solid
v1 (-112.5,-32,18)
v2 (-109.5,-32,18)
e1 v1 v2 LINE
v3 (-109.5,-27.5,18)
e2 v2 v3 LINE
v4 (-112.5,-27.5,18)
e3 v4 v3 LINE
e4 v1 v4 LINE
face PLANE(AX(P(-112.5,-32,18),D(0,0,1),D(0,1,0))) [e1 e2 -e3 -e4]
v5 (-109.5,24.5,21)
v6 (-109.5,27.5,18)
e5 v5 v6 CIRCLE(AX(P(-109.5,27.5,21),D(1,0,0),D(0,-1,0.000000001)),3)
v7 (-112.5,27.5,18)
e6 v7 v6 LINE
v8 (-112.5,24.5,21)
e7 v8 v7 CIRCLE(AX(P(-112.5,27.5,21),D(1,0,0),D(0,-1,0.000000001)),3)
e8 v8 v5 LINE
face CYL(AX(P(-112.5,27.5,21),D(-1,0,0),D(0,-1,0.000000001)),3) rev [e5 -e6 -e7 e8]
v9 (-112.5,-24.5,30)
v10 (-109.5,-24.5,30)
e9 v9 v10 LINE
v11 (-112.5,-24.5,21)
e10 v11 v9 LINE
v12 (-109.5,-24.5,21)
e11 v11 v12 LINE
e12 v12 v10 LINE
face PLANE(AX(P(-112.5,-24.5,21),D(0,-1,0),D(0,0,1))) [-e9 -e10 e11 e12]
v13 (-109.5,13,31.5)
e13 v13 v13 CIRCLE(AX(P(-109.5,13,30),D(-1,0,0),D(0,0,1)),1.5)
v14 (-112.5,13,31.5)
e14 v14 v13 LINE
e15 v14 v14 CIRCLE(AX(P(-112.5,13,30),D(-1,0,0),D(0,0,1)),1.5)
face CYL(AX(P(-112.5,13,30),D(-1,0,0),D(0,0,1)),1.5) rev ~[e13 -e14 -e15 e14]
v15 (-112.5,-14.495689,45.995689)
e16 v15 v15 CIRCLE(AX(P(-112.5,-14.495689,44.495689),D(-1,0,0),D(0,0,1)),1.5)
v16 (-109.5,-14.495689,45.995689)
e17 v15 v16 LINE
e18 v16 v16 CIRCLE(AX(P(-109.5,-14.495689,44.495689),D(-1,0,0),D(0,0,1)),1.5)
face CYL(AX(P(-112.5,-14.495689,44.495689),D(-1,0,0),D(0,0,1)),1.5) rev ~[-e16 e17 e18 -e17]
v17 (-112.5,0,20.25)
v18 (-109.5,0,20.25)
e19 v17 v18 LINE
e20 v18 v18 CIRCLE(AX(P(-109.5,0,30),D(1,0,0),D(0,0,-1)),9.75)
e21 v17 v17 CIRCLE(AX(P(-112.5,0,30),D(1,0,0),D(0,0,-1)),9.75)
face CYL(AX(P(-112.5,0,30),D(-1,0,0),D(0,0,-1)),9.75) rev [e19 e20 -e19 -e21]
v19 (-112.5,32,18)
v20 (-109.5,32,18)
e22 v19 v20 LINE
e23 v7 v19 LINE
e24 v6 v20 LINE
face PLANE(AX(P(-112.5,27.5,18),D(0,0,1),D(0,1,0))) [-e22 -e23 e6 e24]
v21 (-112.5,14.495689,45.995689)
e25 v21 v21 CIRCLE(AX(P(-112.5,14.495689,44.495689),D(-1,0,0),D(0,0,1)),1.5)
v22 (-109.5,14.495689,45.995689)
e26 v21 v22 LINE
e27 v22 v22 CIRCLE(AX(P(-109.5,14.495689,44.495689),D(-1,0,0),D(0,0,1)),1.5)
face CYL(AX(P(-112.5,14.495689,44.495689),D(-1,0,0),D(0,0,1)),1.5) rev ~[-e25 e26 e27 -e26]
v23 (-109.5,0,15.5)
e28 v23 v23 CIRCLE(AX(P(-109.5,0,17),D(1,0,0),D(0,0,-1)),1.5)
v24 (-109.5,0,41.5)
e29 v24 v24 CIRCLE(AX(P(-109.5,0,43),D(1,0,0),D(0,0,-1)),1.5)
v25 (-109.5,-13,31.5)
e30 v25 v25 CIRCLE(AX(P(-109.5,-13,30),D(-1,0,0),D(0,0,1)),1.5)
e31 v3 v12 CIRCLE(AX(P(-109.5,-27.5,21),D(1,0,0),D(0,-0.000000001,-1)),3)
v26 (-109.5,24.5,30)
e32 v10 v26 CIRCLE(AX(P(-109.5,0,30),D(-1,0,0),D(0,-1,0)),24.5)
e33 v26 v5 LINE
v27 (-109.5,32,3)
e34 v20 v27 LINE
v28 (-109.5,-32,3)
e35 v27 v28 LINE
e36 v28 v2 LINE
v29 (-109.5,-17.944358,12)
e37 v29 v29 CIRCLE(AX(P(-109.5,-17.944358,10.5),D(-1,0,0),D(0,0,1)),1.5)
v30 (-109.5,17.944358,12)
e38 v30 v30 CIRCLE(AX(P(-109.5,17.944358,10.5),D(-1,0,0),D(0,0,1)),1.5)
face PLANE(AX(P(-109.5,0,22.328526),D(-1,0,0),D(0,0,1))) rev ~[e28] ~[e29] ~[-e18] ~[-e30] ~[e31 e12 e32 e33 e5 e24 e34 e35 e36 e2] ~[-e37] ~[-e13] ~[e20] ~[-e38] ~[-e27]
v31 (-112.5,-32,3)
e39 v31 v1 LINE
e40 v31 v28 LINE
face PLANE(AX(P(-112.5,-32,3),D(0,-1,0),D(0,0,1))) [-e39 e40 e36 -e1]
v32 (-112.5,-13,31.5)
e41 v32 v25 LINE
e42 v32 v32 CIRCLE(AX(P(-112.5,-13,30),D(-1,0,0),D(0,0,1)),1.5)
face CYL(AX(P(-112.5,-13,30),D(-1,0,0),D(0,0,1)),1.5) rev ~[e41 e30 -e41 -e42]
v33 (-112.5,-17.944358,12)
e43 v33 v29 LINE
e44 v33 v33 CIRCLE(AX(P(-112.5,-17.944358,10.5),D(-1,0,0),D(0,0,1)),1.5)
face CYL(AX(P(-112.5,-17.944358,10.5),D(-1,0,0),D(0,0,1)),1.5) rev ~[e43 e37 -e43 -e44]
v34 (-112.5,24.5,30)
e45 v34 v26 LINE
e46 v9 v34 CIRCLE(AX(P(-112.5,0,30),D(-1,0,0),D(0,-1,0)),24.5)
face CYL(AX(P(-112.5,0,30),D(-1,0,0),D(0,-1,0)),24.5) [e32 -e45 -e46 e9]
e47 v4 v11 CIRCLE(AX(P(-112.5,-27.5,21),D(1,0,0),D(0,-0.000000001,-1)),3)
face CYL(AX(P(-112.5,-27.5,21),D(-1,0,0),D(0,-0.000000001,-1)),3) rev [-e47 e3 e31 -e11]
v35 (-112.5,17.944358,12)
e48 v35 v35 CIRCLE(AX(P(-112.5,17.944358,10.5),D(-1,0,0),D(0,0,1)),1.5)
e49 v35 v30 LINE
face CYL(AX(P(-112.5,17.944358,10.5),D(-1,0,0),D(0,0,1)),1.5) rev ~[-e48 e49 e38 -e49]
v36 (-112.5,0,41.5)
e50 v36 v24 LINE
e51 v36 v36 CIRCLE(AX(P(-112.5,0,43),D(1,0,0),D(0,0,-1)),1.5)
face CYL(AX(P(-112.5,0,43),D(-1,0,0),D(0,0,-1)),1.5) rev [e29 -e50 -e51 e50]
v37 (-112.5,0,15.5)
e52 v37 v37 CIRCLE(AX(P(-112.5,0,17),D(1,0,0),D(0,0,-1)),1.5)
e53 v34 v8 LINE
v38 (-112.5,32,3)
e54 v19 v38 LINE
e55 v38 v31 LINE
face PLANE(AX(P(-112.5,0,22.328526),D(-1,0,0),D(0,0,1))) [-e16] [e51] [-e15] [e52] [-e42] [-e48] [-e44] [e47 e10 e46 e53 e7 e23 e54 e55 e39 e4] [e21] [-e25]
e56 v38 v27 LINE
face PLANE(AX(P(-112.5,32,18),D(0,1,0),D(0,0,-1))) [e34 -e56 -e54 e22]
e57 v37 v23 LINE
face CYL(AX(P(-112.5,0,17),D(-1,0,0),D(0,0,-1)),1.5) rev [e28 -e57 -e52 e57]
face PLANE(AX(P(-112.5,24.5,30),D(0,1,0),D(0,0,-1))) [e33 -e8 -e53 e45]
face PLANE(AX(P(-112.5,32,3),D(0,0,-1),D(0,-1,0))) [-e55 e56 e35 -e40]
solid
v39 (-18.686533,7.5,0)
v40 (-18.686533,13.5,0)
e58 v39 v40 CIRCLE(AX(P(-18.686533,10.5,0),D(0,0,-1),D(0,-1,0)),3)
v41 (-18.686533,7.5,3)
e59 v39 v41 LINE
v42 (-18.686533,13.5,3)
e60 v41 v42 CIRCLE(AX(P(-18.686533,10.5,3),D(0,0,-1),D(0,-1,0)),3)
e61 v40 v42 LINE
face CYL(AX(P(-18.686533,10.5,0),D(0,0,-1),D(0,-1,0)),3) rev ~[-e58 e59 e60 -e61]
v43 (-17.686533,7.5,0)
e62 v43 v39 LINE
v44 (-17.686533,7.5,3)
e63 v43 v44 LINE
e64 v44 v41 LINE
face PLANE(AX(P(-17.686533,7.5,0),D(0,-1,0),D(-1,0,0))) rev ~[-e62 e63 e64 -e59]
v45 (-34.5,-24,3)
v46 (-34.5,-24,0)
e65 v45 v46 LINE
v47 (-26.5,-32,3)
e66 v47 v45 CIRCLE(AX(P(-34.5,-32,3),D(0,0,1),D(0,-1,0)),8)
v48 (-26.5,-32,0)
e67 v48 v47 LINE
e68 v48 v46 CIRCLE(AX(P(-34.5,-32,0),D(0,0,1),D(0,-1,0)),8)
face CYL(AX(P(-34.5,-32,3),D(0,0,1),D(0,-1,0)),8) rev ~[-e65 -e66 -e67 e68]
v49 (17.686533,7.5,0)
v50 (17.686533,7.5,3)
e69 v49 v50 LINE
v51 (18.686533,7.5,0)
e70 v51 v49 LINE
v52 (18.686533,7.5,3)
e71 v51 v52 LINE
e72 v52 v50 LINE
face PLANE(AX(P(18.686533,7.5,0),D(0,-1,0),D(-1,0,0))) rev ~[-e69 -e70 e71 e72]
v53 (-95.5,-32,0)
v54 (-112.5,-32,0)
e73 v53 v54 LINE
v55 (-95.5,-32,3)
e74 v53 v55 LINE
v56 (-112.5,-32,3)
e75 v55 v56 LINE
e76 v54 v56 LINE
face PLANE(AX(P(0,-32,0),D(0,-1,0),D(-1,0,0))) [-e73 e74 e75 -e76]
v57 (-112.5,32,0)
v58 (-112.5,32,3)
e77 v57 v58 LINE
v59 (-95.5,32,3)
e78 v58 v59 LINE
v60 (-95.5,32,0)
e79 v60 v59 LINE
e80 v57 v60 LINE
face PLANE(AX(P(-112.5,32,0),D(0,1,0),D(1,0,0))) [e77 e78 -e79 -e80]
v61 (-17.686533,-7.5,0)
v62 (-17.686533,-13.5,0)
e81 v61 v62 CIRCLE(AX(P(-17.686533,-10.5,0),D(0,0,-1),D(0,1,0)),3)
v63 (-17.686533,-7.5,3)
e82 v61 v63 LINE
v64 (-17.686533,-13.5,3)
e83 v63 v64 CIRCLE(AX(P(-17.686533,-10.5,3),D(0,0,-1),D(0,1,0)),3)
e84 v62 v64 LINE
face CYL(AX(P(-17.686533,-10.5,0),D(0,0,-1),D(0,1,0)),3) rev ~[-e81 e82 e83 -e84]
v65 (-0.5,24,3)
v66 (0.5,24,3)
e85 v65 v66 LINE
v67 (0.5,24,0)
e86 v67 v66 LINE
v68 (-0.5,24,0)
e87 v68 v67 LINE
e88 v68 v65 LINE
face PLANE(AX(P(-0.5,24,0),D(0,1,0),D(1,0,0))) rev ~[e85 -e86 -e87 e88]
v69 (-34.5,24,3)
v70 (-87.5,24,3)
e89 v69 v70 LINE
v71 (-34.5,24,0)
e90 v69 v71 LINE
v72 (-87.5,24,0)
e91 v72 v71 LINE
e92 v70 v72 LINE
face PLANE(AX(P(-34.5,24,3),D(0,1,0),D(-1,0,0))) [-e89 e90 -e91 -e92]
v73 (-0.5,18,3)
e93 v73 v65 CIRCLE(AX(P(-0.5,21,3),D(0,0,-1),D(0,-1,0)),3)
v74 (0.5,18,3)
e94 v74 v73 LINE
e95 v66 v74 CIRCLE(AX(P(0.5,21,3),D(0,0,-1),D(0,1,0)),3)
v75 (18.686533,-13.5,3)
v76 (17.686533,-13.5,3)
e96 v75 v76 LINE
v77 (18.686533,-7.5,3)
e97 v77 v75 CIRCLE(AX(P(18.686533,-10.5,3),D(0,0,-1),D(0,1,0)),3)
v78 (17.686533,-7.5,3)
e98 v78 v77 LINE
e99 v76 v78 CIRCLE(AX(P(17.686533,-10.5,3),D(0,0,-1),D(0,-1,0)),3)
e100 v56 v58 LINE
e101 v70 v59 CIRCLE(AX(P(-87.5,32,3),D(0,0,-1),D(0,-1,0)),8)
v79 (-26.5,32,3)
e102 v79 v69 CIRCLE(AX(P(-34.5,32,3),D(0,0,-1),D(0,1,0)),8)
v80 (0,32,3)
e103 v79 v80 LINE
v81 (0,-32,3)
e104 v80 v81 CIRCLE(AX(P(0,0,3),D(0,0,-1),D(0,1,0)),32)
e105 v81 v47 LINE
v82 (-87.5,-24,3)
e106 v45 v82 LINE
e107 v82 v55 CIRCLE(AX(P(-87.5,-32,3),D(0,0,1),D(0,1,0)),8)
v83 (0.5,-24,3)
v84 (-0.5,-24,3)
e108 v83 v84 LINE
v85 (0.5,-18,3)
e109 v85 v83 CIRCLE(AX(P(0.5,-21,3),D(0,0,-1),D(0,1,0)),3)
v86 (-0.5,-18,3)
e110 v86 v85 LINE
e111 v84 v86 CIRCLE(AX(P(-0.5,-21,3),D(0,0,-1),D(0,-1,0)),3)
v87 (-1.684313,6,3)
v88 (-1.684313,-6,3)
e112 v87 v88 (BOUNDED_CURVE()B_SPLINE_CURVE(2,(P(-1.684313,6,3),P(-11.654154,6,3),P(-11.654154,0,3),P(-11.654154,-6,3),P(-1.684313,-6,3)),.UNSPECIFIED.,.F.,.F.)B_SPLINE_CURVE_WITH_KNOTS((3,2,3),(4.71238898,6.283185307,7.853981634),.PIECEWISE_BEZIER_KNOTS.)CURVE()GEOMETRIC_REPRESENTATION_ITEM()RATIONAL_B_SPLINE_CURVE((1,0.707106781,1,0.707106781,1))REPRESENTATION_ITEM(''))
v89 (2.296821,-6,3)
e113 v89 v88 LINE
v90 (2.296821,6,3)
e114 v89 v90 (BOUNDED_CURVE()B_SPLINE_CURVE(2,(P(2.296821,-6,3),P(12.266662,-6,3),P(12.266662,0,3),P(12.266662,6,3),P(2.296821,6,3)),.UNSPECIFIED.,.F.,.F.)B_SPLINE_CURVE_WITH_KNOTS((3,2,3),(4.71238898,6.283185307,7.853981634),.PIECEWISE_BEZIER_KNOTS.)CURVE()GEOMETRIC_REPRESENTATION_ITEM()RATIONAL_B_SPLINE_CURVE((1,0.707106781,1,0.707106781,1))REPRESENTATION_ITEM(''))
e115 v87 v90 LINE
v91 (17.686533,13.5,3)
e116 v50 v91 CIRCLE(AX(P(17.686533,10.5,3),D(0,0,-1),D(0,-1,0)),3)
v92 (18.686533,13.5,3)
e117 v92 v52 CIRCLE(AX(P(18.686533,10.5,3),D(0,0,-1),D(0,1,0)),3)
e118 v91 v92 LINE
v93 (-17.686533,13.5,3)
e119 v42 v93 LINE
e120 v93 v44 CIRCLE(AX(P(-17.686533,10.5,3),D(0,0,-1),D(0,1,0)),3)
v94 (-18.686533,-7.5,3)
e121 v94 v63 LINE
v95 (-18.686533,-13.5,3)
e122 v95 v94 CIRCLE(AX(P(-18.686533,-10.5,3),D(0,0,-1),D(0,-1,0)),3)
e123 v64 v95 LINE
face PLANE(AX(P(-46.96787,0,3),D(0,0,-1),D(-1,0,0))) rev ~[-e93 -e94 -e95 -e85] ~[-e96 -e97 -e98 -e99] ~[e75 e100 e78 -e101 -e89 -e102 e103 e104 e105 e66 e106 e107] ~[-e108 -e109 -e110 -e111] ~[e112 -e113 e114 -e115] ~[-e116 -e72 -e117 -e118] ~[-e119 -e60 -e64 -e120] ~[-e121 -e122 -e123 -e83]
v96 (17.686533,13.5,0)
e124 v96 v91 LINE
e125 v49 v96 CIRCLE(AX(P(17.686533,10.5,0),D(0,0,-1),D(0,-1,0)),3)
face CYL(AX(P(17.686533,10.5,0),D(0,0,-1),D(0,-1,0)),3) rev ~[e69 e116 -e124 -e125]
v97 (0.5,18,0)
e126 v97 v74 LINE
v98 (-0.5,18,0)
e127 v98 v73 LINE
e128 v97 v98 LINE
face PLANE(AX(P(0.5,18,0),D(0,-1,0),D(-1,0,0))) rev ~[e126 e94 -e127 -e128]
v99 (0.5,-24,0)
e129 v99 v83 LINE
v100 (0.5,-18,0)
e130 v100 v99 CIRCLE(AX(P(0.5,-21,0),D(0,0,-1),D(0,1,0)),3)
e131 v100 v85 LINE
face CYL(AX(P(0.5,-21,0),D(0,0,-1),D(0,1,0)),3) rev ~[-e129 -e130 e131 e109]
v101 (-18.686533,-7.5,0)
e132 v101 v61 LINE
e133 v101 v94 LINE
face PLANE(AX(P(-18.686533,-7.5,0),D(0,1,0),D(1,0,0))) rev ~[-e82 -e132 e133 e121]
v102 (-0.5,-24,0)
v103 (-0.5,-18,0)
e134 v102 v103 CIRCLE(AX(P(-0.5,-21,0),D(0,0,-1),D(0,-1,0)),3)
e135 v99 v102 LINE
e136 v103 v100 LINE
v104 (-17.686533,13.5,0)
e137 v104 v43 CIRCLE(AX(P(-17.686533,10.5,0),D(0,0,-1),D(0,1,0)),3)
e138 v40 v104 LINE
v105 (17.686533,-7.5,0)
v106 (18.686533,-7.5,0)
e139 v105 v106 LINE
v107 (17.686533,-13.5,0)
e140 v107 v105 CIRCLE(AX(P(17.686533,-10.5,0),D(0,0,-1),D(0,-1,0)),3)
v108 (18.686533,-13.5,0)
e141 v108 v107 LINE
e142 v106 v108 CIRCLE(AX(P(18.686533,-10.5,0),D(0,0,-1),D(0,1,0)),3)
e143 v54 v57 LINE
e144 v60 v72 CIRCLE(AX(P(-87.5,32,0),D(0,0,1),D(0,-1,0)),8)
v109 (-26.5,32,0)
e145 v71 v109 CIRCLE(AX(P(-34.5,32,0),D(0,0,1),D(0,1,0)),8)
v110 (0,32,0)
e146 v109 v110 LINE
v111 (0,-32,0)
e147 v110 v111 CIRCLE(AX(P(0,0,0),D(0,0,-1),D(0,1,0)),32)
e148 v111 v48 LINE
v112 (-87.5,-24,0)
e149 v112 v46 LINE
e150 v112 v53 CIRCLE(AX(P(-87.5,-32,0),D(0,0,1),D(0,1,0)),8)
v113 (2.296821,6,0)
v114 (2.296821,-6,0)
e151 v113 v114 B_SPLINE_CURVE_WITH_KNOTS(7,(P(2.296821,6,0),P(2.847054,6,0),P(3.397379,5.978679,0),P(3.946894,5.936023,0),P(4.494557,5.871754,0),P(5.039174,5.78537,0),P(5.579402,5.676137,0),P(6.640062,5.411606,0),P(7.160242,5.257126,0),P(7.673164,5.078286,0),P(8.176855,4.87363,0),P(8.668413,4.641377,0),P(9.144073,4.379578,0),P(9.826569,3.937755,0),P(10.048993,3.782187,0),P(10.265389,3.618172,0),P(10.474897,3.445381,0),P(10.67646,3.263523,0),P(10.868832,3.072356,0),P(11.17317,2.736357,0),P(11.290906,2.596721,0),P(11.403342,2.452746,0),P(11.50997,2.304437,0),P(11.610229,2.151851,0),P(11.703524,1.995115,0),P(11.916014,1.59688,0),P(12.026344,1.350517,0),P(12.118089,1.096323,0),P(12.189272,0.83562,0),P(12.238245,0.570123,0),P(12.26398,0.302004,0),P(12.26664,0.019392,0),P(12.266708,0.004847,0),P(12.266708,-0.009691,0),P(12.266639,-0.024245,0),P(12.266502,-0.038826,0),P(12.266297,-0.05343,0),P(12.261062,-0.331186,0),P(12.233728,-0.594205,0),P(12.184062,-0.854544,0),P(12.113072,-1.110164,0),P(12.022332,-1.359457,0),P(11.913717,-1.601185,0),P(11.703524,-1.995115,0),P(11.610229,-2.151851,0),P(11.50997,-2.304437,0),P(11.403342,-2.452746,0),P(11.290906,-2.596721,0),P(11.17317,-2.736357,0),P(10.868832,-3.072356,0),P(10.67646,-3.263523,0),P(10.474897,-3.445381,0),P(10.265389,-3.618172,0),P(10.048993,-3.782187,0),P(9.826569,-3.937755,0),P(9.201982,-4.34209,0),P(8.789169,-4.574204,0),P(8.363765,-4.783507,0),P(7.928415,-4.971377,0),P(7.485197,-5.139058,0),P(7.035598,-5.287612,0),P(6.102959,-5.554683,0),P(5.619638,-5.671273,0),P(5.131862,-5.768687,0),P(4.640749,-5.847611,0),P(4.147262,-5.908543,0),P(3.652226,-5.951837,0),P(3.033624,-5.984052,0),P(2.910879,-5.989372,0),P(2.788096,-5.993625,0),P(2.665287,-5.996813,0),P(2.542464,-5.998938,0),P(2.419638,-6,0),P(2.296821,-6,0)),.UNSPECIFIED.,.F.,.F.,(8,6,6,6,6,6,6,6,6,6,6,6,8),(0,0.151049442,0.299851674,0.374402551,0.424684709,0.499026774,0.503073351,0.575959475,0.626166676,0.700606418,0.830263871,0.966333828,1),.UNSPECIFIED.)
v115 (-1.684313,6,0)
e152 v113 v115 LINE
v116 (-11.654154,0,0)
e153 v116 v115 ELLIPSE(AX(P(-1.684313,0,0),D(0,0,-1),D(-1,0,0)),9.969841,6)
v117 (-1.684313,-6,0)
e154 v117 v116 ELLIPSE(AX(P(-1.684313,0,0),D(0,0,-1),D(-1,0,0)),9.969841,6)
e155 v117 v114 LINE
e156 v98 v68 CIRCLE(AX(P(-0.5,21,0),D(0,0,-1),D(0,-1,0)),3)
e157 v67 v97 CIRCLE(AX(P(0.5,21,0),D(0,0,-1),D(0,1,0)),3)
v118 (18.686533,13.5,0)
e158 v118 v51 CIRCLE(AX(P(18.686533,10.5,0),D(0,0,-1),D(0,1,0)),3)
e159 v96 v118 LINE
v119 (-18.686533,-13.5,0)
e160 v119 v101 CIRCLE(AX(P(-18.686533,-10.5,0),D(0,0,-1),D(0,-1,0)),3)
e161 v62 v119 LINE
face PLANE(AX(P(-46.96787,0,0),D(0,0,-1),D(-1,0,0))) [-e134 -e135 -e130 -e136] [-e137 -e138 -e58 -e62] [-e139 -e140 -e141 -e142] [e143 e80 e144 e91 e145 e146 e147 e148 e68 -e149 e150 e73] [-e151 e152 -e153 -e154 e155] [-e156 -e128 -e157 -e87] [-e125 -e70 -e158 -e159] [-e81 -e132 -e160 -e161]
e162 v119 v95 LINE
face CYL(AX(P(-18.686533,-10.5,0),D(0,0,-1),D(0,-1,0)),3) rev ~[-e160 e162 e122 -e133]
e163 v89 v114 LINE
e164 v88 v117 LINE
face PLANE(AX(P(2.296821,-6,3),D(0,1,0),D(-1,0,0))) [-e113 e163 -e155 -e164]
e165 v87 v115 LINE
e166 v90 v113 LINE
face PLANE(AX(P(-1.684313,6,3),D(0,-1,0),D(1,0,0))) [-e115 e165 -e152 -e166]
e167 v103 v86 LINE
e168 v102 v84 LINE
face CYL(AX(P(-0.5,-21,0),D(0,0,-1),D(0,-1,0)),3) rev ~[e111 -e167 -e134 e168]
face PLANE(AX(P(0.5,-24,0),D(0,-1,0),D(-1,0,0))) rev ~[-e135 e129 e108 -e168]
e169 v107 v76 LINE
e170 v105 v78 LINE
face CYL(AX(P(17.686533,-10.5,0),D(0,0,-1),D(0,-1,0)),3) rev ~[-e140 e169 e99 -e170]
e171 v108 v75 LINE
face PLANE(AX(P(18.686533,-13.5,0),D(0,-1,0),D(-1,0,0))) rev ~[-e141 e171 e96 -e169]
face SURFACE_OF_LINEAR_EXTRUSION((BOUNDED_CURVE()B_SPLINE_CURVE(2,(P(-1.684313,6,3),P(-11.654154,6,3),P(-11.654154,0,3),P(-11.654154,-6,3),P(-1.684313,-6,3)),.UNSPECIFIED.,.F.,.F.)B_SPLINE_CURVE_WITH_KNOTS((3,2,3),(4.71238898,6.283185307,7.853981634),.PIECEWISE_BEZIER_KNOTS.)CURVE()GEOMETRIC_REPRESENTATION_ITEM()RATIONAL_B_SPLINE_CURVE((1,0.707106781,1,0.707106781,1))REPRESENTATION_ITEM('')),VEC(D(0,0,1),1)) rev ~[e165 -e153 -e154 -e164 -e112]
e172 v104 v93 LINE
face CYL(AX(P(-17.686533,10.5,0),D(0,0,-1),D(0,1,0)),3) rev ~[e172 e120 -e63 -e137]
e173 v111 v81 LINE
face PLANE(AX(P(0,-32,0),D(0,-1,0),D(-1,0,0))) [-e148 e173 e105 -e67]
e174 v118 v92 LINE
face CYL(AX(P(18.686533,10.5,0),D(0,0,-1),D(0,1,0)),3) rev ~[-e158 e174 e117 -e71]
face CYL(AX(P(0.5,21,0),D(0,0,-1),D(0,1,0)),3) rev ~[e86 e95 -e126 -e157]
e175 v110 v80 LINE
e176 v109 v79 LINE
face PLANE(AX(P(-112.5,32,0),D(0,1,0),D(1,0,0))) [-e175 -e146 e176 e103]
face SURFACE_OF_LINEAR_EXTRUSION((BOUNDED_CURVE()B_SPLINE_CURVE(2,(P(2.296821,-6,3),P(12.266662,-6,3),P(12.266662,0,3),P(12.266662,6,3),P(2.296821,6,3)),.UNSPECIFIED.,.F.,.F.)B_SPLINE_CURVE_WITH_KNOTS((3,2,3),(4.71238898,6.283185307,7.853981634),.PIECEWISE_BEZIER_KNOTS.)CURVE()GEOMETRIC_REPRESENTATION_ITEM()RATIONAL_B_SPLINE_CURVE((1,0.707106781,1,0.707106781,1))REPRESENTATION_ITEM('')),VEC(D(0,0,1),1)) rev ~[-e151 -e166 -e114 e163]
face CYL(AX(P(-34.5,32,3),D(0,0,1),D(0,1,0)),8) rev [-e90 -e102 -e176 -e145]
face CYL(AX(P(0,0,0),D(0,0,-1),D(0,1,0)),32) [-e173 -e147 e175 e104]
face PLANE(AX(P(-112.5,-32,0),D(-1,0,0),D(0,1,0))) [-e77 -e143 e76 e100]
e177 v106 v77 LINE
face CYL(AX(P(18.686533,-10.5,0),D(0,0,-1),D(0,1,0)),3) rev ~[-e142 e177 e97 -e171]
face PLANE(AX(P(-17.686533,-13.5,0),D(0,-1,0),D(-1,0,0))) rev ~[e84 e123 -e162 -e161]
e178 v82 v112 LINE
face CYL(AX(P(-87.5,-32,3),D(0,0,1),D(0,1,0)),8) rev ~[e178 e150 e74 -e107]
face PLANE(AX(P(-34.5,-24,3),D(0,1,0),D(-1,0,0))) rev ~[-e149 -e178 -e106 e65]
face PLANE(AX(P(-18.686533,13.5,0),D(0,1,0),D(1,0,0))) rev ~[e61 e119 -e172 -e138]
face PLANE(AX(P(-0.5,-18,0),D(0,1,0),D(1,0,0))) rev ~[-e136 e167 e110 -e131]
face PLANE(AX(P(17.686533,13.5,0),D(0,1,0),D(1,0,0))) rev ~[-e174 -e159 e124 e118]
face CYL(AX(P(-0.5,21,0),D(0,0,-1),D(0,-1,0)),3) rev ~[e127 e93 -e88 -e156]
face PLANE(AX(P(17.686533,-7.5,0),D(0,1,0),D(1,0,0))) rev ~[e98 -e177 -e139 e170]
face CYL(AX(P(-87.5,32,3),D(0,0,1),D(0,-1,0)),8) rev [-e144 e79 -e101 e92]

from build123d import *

# Parameters (mm, degrees)
BOSS_EXTRUDE1_DEPTH = 3
SKETCH2_R           = 1.5
BOSS_EXTRUDE2_DEPTH = 3
SKETCH3_R           = 6
CUT_EXTRUDE1_DEPTH  = 150.495916109
CUT_EXTRUDE2_DEPTH  = 128.79866979
CUT_EXTRUDE3_DEPTH  = 128.798669903


with BuildPart() as part:
    # Sketch1 → Boss-Extrude1 (new body)
    with BuildSketch(Plane.XY):
        with BuildLine():
            Line((-112.5, 32), (0, 32))
            ThreePointArc((0, 32), (32, 0), (0, -32))
            Line((0, -32), (-112.5, -32))
            Line((-112.5, -32), (-112.5, 32))
        make_face()
        with BuildLine():
            Line((17.686533479, 13.5), (18.686533479, 13.5))
            ThreePointArc((18.686533479, 13.5), (21.686533479, 10.5), (18.686533479, 7.5))
            Line((18.686533479, 7.5), (17.686533479, 7.5))
            ThreePointArc((17.686533479, 7.5), (14.686533479, 10.5), (17.686533479, 13.5))
        make_face(mode=Mode.SUBTRACT)
        with BuildLine():
            Line((17.686533479, -7.5), (18.686533479, -7.5))
            ThreePointArc((18.686533479, -7.5), (21.686533479, -10.5), (18.686533479, -13.5))
            Line((18.686533479, -13.5), (17.686533479, -13.5))
            ThreePointArc((17.686533479, -13.5), (14.686533479, -10.5), (17.686533479, -7.5))
        make_face(mode=Mode.SUBTRACT)
        with BuildLine():
            Line((-0.5, -18), (0.5, -18))
            ThreePointArc((0.5, -18), (3.5, -21), (0.5, -24))
            Line((0.5, -24), (-0.5, -24))
            ThreePointArc((-0.5, -24), (-3.5, -21), (-0.5, -18))
        make_face(mode=Mode.SUBTRACT)
        with BuildLine():
            Line((-18.686533479, -7.5), (-17.686533479, -7.5))
            ThreePointArc((-17.686533479, -7.5), (-14.686533479, -10.5), (-17.686533479, -13.5))
            Line((-17.686533479, -13.5), (-18.686533479, -13.5))
            ThreePointArc((-18.686533479, -13.5), (-21.686533479, -10.5), (-18.686533479, -7.5))
        make_face(mode=Mode.SUBTRACT)
        with BuildLine():
            Line((-17.686533479, 7.5), (-18.686533479, 7.5))
            ThreePointArc((-18.686533479, 7.5), (-21.686533479, 10.5), (-18.686533479, 13.5))
            Line((-18.686533479, 13.5), (-17.686533479, 13.5))
            ThreePointArc((-17.686533479, 13.5), (-14.686533479, 10.5), (-17.686533479, 7.5))
        make_face(mode=Mode.SUBTRACT)
        with BuildLine():
            Line((0.5, 18), (-0.5, 18))
            ThreePointArc((-0.5, 18), (-3.5, 21), (-0.5, 24))
            Line((-0.5, 24), (0.5, 24))
            ThreePointArc((0.5, 24), (3.5, 21), (0.5, 18))
        make_face(mode=Mode.SUBTRACT)
    extrude(amount=BOSS_EXTRUDE1_DEPTH)

    # Sketch3 → Cut-Extrude1 (cut, through all)
    with BuildSketch(Plane(origin=(-68.399252687, 0, -51.542533886), x_dir=(0, 1, 0), z_dir=(0.798635510047294, 0, 0.6018150231520466))):
        with Locations(Location((0, 1.0136449, 0), (0, 0, 90))):
            Circle(SKETCH3_R)
    extrude(amount=CUT_EXTRUDE1_DEPTH, mode=Mode.SUBTRACT)

    # Sketch4 → Cut-Extrude2 (cut, through all)
    with BuildSketch(Plane.XY.offset(3)):
        with BuildLine():
            Line((2.296821411, -6), (-1.684313054, -6))
            add(Edge.make_bspline(
                [(-1.684313054, 6), (-11.654153901, 6), (-11.654153901, 0), (-11.654153901, -6), (-1.684313054, -6)],
                knots=[4.71238898, 4.71238898, 4.71238898, 6.283185307, 6.283185307, 7.853981634, 7.853981634, 7.853981634], degree=2, weights=[1, 0.707106781, 1, 0.707106781, 1]))
            Line((-1.684313054, 6), (2.296821411, 6))
            add(Edge.make_bspline(
                [(2.296821411, -6), (12.266662258, -6), (12.266662258, 0), (12.266662258, 6), (2.296821411, 6)],
                knots=[4.71238898, 4.71238898, 4.71238898, 6.283185307, 6.283185307, 7.853981634, 7.853981634, 7.853981634], degree=2, weights=[1, 0.707106781, 1, 0.707106781, 1]))
        make_face()
    extrude(amount=-CUT_EXTRUDE2_DEPTH, mode=Mode.SUBTRACT)

    # Sketch5 → Cut-Extrude3 (cut, through all)
    with BuildSketch(Plane.XY.offset(3)):
        with BuildLine():
            Line((-34.5, 24), (-87.5, 24))
            ThreePointArc((-87.5, 24), (-95.5, 32), (-87.5, 40))
            Line((-87.5, 40), (-34.5, 40))
            ThreePointArc((-34.5, 40), (-26.5, 32), (-34.5, 24))
        make_face()
        with BuildLine():
            Line((-34.5, -24), (-87.5, -24))
            ThreePointArc((-87.5, -24), (-95.5, -32), (-87.5, -40))
            Line((-87.5, -40), (-34.5, -40))
            ThreePointArc((-34.5, -40), (-26.5, -32), (-34.5, -24))
        make_face()
    extrude(amount=-CUT_EXTRUDE3_DEPTH, mode=Mode.SUBTRACT)


with BuildPart() as body_2:
    # Sketch2 → Boss-Extrude2 (new body)
    # profile 1 of 2: a face of its own
    with BuildSketch(Plane.ZY.offset(112.5)):
        with BuildLine():
            Line((3, 0), (3, -32))
            Line((3, -32), (18, -32))
            Line((18, -32), (18, -27.5))
            ThreePointArc((18, -27.5), (18.878679656, -25.378679656), (21, -24.5))
            Line((21, -24.5), (30, -24.5))
            ThreePointArc((30, -24.5), (54.5, 0), (30, 24.5))
            Line((30, 24.5), (21, 24.5))
            ThreePointArc((21, 24.5), (18.878679656, 25.378679656), (18, 27.5))
            Line((18, 27.5), (18, 32))
            Line((18, 32), (3, 32))
            Line((3, 32), (3, 0))
        make_face()
        with Locations((10.5, -17.944358445)):
            Circle(SKETCH2_R, mode=Mode.SUBTRACT)
        with BuildLine():
            ThreePointArc((18.5, 0), (17, -1.5), (15.5, 0))
            ThreePointArc((15.5, 0), (17, 1.5), (18.5, 0))
        make_face(mode=Mode.SUBTRACT)
        with Locations((30, -13)):
            Circle(SKETCH2_R, mode=Mode.SUBTRACT)
        with Locations((44.495689014, -14.495689014)):
            Circle(SKETCH2_R, mode=Mode.SUBTRACT)
        with Locations((10.5, 17.944358445)):
            Circle(SKETCH2_R, mode=Mode.SUBTRACT)
        with BuildLine():
            ThreePointArc((39.75, 0), (30, -9.75), (20.25, 0))
            ThreePointArc((20.25, 0), (30, 9.75), (39.75, 0))
        make_face(mode=Mode.SUBTRACT)
        with Locations((30, 13)):
            Circle(SKETCH2_R, mode=Mode.SUBTRACT)
        with BuildLine():
            ThreePointArc((44.5, 0), (43, -1.5), (41.5, 0))
            ThreePointArc((41.5, 0), (43, 1.5), (44.5, 0))
        make_face(mode=Mode.SUBTRACT)
        with Locations((44.495689014, 14.495689014)):
            Circle(SKETCH2_R, mode=Mode.SUBTRACT)
    # profile 2 of 2: a face of its own
    with BuildSketch(Plane.ZY.offset(112.5)):
        with BuildLine():
            Line((3, 0), (3, -32))
            Line((3, -32), (18, -32))
            Line((18, -32), (18, -27.5))
            ThreePointArc((18, -27.5), (18.878679656, -25.378679656), (21, -24.5))
            Line((21, -24.5), (30, -24.5))
            ThreePointArc((30, -24.5), (54.5, 0), (30, 24.5))
            Line((30, 24.5), (21, 24.5))
            ThreePointArc((21, 24.5), (18.878679656, 25.378679656), (18, 27.5))
            Line((18, 27.5), (18, 32))
            Line((18, 32), (3, 32))
            Line((3, 32), (3, 0))
        make_face()
        with Locations((10.5, -17.944358445)):
            Circle(SKETCH2_R, mode=Mode.SUBTRACT)
        with BuildLine():
            ThreePointArc((18.5, 0), (17, -1.5), (15.5, 0))
            ThreePointArc((15.5, 0), (17, 1.5), (18.5, 0))
        make_face(mode=Mode.SUBTRACT)
        with Locations((30, -13)):
            Circle(SKETCH2_R, mode=Mode.SUBTRACT)
        with Locations((44.495689014, -14.495689014)):
            Circle(SKETCH2_R, mode=Mode.SUBTRACT)
        with Locations((10.5, 17.944358445)):
            Circle(SKETCH2_R, mode=Mode.SUBTRACT)
        with BuildLine():
            ThreePointArc((39.75, 0), (30, -9.75), (20.25, 0))
            ThreePointArc((20.25, 0), (30, 9.75), (39.75, 0))
        make_face(mode=Mode.SUBTRACT)
        with Locations((30, 13)):
            Circle(SKETCH2_R, mode=Mode.SUBTRACT)
        with BuildLine():
            ThreePointArc((44.5, 0), (43, -1.5), (41.5, 0))
            ThreePointArc((41.5, 0), (43, 1.5), (44.5, 0))
        make_face(mode=Mode.SUBTRACT)
        with Locations((44.495689014, 14.495689014)):
            Circle(SKETCH2_R, mode=Mode.SUBTRACT)
    extrude(amount=-BOSS_EXTRUDE2_DEPTH)


solid = Compound([part.part, body_2.part])
